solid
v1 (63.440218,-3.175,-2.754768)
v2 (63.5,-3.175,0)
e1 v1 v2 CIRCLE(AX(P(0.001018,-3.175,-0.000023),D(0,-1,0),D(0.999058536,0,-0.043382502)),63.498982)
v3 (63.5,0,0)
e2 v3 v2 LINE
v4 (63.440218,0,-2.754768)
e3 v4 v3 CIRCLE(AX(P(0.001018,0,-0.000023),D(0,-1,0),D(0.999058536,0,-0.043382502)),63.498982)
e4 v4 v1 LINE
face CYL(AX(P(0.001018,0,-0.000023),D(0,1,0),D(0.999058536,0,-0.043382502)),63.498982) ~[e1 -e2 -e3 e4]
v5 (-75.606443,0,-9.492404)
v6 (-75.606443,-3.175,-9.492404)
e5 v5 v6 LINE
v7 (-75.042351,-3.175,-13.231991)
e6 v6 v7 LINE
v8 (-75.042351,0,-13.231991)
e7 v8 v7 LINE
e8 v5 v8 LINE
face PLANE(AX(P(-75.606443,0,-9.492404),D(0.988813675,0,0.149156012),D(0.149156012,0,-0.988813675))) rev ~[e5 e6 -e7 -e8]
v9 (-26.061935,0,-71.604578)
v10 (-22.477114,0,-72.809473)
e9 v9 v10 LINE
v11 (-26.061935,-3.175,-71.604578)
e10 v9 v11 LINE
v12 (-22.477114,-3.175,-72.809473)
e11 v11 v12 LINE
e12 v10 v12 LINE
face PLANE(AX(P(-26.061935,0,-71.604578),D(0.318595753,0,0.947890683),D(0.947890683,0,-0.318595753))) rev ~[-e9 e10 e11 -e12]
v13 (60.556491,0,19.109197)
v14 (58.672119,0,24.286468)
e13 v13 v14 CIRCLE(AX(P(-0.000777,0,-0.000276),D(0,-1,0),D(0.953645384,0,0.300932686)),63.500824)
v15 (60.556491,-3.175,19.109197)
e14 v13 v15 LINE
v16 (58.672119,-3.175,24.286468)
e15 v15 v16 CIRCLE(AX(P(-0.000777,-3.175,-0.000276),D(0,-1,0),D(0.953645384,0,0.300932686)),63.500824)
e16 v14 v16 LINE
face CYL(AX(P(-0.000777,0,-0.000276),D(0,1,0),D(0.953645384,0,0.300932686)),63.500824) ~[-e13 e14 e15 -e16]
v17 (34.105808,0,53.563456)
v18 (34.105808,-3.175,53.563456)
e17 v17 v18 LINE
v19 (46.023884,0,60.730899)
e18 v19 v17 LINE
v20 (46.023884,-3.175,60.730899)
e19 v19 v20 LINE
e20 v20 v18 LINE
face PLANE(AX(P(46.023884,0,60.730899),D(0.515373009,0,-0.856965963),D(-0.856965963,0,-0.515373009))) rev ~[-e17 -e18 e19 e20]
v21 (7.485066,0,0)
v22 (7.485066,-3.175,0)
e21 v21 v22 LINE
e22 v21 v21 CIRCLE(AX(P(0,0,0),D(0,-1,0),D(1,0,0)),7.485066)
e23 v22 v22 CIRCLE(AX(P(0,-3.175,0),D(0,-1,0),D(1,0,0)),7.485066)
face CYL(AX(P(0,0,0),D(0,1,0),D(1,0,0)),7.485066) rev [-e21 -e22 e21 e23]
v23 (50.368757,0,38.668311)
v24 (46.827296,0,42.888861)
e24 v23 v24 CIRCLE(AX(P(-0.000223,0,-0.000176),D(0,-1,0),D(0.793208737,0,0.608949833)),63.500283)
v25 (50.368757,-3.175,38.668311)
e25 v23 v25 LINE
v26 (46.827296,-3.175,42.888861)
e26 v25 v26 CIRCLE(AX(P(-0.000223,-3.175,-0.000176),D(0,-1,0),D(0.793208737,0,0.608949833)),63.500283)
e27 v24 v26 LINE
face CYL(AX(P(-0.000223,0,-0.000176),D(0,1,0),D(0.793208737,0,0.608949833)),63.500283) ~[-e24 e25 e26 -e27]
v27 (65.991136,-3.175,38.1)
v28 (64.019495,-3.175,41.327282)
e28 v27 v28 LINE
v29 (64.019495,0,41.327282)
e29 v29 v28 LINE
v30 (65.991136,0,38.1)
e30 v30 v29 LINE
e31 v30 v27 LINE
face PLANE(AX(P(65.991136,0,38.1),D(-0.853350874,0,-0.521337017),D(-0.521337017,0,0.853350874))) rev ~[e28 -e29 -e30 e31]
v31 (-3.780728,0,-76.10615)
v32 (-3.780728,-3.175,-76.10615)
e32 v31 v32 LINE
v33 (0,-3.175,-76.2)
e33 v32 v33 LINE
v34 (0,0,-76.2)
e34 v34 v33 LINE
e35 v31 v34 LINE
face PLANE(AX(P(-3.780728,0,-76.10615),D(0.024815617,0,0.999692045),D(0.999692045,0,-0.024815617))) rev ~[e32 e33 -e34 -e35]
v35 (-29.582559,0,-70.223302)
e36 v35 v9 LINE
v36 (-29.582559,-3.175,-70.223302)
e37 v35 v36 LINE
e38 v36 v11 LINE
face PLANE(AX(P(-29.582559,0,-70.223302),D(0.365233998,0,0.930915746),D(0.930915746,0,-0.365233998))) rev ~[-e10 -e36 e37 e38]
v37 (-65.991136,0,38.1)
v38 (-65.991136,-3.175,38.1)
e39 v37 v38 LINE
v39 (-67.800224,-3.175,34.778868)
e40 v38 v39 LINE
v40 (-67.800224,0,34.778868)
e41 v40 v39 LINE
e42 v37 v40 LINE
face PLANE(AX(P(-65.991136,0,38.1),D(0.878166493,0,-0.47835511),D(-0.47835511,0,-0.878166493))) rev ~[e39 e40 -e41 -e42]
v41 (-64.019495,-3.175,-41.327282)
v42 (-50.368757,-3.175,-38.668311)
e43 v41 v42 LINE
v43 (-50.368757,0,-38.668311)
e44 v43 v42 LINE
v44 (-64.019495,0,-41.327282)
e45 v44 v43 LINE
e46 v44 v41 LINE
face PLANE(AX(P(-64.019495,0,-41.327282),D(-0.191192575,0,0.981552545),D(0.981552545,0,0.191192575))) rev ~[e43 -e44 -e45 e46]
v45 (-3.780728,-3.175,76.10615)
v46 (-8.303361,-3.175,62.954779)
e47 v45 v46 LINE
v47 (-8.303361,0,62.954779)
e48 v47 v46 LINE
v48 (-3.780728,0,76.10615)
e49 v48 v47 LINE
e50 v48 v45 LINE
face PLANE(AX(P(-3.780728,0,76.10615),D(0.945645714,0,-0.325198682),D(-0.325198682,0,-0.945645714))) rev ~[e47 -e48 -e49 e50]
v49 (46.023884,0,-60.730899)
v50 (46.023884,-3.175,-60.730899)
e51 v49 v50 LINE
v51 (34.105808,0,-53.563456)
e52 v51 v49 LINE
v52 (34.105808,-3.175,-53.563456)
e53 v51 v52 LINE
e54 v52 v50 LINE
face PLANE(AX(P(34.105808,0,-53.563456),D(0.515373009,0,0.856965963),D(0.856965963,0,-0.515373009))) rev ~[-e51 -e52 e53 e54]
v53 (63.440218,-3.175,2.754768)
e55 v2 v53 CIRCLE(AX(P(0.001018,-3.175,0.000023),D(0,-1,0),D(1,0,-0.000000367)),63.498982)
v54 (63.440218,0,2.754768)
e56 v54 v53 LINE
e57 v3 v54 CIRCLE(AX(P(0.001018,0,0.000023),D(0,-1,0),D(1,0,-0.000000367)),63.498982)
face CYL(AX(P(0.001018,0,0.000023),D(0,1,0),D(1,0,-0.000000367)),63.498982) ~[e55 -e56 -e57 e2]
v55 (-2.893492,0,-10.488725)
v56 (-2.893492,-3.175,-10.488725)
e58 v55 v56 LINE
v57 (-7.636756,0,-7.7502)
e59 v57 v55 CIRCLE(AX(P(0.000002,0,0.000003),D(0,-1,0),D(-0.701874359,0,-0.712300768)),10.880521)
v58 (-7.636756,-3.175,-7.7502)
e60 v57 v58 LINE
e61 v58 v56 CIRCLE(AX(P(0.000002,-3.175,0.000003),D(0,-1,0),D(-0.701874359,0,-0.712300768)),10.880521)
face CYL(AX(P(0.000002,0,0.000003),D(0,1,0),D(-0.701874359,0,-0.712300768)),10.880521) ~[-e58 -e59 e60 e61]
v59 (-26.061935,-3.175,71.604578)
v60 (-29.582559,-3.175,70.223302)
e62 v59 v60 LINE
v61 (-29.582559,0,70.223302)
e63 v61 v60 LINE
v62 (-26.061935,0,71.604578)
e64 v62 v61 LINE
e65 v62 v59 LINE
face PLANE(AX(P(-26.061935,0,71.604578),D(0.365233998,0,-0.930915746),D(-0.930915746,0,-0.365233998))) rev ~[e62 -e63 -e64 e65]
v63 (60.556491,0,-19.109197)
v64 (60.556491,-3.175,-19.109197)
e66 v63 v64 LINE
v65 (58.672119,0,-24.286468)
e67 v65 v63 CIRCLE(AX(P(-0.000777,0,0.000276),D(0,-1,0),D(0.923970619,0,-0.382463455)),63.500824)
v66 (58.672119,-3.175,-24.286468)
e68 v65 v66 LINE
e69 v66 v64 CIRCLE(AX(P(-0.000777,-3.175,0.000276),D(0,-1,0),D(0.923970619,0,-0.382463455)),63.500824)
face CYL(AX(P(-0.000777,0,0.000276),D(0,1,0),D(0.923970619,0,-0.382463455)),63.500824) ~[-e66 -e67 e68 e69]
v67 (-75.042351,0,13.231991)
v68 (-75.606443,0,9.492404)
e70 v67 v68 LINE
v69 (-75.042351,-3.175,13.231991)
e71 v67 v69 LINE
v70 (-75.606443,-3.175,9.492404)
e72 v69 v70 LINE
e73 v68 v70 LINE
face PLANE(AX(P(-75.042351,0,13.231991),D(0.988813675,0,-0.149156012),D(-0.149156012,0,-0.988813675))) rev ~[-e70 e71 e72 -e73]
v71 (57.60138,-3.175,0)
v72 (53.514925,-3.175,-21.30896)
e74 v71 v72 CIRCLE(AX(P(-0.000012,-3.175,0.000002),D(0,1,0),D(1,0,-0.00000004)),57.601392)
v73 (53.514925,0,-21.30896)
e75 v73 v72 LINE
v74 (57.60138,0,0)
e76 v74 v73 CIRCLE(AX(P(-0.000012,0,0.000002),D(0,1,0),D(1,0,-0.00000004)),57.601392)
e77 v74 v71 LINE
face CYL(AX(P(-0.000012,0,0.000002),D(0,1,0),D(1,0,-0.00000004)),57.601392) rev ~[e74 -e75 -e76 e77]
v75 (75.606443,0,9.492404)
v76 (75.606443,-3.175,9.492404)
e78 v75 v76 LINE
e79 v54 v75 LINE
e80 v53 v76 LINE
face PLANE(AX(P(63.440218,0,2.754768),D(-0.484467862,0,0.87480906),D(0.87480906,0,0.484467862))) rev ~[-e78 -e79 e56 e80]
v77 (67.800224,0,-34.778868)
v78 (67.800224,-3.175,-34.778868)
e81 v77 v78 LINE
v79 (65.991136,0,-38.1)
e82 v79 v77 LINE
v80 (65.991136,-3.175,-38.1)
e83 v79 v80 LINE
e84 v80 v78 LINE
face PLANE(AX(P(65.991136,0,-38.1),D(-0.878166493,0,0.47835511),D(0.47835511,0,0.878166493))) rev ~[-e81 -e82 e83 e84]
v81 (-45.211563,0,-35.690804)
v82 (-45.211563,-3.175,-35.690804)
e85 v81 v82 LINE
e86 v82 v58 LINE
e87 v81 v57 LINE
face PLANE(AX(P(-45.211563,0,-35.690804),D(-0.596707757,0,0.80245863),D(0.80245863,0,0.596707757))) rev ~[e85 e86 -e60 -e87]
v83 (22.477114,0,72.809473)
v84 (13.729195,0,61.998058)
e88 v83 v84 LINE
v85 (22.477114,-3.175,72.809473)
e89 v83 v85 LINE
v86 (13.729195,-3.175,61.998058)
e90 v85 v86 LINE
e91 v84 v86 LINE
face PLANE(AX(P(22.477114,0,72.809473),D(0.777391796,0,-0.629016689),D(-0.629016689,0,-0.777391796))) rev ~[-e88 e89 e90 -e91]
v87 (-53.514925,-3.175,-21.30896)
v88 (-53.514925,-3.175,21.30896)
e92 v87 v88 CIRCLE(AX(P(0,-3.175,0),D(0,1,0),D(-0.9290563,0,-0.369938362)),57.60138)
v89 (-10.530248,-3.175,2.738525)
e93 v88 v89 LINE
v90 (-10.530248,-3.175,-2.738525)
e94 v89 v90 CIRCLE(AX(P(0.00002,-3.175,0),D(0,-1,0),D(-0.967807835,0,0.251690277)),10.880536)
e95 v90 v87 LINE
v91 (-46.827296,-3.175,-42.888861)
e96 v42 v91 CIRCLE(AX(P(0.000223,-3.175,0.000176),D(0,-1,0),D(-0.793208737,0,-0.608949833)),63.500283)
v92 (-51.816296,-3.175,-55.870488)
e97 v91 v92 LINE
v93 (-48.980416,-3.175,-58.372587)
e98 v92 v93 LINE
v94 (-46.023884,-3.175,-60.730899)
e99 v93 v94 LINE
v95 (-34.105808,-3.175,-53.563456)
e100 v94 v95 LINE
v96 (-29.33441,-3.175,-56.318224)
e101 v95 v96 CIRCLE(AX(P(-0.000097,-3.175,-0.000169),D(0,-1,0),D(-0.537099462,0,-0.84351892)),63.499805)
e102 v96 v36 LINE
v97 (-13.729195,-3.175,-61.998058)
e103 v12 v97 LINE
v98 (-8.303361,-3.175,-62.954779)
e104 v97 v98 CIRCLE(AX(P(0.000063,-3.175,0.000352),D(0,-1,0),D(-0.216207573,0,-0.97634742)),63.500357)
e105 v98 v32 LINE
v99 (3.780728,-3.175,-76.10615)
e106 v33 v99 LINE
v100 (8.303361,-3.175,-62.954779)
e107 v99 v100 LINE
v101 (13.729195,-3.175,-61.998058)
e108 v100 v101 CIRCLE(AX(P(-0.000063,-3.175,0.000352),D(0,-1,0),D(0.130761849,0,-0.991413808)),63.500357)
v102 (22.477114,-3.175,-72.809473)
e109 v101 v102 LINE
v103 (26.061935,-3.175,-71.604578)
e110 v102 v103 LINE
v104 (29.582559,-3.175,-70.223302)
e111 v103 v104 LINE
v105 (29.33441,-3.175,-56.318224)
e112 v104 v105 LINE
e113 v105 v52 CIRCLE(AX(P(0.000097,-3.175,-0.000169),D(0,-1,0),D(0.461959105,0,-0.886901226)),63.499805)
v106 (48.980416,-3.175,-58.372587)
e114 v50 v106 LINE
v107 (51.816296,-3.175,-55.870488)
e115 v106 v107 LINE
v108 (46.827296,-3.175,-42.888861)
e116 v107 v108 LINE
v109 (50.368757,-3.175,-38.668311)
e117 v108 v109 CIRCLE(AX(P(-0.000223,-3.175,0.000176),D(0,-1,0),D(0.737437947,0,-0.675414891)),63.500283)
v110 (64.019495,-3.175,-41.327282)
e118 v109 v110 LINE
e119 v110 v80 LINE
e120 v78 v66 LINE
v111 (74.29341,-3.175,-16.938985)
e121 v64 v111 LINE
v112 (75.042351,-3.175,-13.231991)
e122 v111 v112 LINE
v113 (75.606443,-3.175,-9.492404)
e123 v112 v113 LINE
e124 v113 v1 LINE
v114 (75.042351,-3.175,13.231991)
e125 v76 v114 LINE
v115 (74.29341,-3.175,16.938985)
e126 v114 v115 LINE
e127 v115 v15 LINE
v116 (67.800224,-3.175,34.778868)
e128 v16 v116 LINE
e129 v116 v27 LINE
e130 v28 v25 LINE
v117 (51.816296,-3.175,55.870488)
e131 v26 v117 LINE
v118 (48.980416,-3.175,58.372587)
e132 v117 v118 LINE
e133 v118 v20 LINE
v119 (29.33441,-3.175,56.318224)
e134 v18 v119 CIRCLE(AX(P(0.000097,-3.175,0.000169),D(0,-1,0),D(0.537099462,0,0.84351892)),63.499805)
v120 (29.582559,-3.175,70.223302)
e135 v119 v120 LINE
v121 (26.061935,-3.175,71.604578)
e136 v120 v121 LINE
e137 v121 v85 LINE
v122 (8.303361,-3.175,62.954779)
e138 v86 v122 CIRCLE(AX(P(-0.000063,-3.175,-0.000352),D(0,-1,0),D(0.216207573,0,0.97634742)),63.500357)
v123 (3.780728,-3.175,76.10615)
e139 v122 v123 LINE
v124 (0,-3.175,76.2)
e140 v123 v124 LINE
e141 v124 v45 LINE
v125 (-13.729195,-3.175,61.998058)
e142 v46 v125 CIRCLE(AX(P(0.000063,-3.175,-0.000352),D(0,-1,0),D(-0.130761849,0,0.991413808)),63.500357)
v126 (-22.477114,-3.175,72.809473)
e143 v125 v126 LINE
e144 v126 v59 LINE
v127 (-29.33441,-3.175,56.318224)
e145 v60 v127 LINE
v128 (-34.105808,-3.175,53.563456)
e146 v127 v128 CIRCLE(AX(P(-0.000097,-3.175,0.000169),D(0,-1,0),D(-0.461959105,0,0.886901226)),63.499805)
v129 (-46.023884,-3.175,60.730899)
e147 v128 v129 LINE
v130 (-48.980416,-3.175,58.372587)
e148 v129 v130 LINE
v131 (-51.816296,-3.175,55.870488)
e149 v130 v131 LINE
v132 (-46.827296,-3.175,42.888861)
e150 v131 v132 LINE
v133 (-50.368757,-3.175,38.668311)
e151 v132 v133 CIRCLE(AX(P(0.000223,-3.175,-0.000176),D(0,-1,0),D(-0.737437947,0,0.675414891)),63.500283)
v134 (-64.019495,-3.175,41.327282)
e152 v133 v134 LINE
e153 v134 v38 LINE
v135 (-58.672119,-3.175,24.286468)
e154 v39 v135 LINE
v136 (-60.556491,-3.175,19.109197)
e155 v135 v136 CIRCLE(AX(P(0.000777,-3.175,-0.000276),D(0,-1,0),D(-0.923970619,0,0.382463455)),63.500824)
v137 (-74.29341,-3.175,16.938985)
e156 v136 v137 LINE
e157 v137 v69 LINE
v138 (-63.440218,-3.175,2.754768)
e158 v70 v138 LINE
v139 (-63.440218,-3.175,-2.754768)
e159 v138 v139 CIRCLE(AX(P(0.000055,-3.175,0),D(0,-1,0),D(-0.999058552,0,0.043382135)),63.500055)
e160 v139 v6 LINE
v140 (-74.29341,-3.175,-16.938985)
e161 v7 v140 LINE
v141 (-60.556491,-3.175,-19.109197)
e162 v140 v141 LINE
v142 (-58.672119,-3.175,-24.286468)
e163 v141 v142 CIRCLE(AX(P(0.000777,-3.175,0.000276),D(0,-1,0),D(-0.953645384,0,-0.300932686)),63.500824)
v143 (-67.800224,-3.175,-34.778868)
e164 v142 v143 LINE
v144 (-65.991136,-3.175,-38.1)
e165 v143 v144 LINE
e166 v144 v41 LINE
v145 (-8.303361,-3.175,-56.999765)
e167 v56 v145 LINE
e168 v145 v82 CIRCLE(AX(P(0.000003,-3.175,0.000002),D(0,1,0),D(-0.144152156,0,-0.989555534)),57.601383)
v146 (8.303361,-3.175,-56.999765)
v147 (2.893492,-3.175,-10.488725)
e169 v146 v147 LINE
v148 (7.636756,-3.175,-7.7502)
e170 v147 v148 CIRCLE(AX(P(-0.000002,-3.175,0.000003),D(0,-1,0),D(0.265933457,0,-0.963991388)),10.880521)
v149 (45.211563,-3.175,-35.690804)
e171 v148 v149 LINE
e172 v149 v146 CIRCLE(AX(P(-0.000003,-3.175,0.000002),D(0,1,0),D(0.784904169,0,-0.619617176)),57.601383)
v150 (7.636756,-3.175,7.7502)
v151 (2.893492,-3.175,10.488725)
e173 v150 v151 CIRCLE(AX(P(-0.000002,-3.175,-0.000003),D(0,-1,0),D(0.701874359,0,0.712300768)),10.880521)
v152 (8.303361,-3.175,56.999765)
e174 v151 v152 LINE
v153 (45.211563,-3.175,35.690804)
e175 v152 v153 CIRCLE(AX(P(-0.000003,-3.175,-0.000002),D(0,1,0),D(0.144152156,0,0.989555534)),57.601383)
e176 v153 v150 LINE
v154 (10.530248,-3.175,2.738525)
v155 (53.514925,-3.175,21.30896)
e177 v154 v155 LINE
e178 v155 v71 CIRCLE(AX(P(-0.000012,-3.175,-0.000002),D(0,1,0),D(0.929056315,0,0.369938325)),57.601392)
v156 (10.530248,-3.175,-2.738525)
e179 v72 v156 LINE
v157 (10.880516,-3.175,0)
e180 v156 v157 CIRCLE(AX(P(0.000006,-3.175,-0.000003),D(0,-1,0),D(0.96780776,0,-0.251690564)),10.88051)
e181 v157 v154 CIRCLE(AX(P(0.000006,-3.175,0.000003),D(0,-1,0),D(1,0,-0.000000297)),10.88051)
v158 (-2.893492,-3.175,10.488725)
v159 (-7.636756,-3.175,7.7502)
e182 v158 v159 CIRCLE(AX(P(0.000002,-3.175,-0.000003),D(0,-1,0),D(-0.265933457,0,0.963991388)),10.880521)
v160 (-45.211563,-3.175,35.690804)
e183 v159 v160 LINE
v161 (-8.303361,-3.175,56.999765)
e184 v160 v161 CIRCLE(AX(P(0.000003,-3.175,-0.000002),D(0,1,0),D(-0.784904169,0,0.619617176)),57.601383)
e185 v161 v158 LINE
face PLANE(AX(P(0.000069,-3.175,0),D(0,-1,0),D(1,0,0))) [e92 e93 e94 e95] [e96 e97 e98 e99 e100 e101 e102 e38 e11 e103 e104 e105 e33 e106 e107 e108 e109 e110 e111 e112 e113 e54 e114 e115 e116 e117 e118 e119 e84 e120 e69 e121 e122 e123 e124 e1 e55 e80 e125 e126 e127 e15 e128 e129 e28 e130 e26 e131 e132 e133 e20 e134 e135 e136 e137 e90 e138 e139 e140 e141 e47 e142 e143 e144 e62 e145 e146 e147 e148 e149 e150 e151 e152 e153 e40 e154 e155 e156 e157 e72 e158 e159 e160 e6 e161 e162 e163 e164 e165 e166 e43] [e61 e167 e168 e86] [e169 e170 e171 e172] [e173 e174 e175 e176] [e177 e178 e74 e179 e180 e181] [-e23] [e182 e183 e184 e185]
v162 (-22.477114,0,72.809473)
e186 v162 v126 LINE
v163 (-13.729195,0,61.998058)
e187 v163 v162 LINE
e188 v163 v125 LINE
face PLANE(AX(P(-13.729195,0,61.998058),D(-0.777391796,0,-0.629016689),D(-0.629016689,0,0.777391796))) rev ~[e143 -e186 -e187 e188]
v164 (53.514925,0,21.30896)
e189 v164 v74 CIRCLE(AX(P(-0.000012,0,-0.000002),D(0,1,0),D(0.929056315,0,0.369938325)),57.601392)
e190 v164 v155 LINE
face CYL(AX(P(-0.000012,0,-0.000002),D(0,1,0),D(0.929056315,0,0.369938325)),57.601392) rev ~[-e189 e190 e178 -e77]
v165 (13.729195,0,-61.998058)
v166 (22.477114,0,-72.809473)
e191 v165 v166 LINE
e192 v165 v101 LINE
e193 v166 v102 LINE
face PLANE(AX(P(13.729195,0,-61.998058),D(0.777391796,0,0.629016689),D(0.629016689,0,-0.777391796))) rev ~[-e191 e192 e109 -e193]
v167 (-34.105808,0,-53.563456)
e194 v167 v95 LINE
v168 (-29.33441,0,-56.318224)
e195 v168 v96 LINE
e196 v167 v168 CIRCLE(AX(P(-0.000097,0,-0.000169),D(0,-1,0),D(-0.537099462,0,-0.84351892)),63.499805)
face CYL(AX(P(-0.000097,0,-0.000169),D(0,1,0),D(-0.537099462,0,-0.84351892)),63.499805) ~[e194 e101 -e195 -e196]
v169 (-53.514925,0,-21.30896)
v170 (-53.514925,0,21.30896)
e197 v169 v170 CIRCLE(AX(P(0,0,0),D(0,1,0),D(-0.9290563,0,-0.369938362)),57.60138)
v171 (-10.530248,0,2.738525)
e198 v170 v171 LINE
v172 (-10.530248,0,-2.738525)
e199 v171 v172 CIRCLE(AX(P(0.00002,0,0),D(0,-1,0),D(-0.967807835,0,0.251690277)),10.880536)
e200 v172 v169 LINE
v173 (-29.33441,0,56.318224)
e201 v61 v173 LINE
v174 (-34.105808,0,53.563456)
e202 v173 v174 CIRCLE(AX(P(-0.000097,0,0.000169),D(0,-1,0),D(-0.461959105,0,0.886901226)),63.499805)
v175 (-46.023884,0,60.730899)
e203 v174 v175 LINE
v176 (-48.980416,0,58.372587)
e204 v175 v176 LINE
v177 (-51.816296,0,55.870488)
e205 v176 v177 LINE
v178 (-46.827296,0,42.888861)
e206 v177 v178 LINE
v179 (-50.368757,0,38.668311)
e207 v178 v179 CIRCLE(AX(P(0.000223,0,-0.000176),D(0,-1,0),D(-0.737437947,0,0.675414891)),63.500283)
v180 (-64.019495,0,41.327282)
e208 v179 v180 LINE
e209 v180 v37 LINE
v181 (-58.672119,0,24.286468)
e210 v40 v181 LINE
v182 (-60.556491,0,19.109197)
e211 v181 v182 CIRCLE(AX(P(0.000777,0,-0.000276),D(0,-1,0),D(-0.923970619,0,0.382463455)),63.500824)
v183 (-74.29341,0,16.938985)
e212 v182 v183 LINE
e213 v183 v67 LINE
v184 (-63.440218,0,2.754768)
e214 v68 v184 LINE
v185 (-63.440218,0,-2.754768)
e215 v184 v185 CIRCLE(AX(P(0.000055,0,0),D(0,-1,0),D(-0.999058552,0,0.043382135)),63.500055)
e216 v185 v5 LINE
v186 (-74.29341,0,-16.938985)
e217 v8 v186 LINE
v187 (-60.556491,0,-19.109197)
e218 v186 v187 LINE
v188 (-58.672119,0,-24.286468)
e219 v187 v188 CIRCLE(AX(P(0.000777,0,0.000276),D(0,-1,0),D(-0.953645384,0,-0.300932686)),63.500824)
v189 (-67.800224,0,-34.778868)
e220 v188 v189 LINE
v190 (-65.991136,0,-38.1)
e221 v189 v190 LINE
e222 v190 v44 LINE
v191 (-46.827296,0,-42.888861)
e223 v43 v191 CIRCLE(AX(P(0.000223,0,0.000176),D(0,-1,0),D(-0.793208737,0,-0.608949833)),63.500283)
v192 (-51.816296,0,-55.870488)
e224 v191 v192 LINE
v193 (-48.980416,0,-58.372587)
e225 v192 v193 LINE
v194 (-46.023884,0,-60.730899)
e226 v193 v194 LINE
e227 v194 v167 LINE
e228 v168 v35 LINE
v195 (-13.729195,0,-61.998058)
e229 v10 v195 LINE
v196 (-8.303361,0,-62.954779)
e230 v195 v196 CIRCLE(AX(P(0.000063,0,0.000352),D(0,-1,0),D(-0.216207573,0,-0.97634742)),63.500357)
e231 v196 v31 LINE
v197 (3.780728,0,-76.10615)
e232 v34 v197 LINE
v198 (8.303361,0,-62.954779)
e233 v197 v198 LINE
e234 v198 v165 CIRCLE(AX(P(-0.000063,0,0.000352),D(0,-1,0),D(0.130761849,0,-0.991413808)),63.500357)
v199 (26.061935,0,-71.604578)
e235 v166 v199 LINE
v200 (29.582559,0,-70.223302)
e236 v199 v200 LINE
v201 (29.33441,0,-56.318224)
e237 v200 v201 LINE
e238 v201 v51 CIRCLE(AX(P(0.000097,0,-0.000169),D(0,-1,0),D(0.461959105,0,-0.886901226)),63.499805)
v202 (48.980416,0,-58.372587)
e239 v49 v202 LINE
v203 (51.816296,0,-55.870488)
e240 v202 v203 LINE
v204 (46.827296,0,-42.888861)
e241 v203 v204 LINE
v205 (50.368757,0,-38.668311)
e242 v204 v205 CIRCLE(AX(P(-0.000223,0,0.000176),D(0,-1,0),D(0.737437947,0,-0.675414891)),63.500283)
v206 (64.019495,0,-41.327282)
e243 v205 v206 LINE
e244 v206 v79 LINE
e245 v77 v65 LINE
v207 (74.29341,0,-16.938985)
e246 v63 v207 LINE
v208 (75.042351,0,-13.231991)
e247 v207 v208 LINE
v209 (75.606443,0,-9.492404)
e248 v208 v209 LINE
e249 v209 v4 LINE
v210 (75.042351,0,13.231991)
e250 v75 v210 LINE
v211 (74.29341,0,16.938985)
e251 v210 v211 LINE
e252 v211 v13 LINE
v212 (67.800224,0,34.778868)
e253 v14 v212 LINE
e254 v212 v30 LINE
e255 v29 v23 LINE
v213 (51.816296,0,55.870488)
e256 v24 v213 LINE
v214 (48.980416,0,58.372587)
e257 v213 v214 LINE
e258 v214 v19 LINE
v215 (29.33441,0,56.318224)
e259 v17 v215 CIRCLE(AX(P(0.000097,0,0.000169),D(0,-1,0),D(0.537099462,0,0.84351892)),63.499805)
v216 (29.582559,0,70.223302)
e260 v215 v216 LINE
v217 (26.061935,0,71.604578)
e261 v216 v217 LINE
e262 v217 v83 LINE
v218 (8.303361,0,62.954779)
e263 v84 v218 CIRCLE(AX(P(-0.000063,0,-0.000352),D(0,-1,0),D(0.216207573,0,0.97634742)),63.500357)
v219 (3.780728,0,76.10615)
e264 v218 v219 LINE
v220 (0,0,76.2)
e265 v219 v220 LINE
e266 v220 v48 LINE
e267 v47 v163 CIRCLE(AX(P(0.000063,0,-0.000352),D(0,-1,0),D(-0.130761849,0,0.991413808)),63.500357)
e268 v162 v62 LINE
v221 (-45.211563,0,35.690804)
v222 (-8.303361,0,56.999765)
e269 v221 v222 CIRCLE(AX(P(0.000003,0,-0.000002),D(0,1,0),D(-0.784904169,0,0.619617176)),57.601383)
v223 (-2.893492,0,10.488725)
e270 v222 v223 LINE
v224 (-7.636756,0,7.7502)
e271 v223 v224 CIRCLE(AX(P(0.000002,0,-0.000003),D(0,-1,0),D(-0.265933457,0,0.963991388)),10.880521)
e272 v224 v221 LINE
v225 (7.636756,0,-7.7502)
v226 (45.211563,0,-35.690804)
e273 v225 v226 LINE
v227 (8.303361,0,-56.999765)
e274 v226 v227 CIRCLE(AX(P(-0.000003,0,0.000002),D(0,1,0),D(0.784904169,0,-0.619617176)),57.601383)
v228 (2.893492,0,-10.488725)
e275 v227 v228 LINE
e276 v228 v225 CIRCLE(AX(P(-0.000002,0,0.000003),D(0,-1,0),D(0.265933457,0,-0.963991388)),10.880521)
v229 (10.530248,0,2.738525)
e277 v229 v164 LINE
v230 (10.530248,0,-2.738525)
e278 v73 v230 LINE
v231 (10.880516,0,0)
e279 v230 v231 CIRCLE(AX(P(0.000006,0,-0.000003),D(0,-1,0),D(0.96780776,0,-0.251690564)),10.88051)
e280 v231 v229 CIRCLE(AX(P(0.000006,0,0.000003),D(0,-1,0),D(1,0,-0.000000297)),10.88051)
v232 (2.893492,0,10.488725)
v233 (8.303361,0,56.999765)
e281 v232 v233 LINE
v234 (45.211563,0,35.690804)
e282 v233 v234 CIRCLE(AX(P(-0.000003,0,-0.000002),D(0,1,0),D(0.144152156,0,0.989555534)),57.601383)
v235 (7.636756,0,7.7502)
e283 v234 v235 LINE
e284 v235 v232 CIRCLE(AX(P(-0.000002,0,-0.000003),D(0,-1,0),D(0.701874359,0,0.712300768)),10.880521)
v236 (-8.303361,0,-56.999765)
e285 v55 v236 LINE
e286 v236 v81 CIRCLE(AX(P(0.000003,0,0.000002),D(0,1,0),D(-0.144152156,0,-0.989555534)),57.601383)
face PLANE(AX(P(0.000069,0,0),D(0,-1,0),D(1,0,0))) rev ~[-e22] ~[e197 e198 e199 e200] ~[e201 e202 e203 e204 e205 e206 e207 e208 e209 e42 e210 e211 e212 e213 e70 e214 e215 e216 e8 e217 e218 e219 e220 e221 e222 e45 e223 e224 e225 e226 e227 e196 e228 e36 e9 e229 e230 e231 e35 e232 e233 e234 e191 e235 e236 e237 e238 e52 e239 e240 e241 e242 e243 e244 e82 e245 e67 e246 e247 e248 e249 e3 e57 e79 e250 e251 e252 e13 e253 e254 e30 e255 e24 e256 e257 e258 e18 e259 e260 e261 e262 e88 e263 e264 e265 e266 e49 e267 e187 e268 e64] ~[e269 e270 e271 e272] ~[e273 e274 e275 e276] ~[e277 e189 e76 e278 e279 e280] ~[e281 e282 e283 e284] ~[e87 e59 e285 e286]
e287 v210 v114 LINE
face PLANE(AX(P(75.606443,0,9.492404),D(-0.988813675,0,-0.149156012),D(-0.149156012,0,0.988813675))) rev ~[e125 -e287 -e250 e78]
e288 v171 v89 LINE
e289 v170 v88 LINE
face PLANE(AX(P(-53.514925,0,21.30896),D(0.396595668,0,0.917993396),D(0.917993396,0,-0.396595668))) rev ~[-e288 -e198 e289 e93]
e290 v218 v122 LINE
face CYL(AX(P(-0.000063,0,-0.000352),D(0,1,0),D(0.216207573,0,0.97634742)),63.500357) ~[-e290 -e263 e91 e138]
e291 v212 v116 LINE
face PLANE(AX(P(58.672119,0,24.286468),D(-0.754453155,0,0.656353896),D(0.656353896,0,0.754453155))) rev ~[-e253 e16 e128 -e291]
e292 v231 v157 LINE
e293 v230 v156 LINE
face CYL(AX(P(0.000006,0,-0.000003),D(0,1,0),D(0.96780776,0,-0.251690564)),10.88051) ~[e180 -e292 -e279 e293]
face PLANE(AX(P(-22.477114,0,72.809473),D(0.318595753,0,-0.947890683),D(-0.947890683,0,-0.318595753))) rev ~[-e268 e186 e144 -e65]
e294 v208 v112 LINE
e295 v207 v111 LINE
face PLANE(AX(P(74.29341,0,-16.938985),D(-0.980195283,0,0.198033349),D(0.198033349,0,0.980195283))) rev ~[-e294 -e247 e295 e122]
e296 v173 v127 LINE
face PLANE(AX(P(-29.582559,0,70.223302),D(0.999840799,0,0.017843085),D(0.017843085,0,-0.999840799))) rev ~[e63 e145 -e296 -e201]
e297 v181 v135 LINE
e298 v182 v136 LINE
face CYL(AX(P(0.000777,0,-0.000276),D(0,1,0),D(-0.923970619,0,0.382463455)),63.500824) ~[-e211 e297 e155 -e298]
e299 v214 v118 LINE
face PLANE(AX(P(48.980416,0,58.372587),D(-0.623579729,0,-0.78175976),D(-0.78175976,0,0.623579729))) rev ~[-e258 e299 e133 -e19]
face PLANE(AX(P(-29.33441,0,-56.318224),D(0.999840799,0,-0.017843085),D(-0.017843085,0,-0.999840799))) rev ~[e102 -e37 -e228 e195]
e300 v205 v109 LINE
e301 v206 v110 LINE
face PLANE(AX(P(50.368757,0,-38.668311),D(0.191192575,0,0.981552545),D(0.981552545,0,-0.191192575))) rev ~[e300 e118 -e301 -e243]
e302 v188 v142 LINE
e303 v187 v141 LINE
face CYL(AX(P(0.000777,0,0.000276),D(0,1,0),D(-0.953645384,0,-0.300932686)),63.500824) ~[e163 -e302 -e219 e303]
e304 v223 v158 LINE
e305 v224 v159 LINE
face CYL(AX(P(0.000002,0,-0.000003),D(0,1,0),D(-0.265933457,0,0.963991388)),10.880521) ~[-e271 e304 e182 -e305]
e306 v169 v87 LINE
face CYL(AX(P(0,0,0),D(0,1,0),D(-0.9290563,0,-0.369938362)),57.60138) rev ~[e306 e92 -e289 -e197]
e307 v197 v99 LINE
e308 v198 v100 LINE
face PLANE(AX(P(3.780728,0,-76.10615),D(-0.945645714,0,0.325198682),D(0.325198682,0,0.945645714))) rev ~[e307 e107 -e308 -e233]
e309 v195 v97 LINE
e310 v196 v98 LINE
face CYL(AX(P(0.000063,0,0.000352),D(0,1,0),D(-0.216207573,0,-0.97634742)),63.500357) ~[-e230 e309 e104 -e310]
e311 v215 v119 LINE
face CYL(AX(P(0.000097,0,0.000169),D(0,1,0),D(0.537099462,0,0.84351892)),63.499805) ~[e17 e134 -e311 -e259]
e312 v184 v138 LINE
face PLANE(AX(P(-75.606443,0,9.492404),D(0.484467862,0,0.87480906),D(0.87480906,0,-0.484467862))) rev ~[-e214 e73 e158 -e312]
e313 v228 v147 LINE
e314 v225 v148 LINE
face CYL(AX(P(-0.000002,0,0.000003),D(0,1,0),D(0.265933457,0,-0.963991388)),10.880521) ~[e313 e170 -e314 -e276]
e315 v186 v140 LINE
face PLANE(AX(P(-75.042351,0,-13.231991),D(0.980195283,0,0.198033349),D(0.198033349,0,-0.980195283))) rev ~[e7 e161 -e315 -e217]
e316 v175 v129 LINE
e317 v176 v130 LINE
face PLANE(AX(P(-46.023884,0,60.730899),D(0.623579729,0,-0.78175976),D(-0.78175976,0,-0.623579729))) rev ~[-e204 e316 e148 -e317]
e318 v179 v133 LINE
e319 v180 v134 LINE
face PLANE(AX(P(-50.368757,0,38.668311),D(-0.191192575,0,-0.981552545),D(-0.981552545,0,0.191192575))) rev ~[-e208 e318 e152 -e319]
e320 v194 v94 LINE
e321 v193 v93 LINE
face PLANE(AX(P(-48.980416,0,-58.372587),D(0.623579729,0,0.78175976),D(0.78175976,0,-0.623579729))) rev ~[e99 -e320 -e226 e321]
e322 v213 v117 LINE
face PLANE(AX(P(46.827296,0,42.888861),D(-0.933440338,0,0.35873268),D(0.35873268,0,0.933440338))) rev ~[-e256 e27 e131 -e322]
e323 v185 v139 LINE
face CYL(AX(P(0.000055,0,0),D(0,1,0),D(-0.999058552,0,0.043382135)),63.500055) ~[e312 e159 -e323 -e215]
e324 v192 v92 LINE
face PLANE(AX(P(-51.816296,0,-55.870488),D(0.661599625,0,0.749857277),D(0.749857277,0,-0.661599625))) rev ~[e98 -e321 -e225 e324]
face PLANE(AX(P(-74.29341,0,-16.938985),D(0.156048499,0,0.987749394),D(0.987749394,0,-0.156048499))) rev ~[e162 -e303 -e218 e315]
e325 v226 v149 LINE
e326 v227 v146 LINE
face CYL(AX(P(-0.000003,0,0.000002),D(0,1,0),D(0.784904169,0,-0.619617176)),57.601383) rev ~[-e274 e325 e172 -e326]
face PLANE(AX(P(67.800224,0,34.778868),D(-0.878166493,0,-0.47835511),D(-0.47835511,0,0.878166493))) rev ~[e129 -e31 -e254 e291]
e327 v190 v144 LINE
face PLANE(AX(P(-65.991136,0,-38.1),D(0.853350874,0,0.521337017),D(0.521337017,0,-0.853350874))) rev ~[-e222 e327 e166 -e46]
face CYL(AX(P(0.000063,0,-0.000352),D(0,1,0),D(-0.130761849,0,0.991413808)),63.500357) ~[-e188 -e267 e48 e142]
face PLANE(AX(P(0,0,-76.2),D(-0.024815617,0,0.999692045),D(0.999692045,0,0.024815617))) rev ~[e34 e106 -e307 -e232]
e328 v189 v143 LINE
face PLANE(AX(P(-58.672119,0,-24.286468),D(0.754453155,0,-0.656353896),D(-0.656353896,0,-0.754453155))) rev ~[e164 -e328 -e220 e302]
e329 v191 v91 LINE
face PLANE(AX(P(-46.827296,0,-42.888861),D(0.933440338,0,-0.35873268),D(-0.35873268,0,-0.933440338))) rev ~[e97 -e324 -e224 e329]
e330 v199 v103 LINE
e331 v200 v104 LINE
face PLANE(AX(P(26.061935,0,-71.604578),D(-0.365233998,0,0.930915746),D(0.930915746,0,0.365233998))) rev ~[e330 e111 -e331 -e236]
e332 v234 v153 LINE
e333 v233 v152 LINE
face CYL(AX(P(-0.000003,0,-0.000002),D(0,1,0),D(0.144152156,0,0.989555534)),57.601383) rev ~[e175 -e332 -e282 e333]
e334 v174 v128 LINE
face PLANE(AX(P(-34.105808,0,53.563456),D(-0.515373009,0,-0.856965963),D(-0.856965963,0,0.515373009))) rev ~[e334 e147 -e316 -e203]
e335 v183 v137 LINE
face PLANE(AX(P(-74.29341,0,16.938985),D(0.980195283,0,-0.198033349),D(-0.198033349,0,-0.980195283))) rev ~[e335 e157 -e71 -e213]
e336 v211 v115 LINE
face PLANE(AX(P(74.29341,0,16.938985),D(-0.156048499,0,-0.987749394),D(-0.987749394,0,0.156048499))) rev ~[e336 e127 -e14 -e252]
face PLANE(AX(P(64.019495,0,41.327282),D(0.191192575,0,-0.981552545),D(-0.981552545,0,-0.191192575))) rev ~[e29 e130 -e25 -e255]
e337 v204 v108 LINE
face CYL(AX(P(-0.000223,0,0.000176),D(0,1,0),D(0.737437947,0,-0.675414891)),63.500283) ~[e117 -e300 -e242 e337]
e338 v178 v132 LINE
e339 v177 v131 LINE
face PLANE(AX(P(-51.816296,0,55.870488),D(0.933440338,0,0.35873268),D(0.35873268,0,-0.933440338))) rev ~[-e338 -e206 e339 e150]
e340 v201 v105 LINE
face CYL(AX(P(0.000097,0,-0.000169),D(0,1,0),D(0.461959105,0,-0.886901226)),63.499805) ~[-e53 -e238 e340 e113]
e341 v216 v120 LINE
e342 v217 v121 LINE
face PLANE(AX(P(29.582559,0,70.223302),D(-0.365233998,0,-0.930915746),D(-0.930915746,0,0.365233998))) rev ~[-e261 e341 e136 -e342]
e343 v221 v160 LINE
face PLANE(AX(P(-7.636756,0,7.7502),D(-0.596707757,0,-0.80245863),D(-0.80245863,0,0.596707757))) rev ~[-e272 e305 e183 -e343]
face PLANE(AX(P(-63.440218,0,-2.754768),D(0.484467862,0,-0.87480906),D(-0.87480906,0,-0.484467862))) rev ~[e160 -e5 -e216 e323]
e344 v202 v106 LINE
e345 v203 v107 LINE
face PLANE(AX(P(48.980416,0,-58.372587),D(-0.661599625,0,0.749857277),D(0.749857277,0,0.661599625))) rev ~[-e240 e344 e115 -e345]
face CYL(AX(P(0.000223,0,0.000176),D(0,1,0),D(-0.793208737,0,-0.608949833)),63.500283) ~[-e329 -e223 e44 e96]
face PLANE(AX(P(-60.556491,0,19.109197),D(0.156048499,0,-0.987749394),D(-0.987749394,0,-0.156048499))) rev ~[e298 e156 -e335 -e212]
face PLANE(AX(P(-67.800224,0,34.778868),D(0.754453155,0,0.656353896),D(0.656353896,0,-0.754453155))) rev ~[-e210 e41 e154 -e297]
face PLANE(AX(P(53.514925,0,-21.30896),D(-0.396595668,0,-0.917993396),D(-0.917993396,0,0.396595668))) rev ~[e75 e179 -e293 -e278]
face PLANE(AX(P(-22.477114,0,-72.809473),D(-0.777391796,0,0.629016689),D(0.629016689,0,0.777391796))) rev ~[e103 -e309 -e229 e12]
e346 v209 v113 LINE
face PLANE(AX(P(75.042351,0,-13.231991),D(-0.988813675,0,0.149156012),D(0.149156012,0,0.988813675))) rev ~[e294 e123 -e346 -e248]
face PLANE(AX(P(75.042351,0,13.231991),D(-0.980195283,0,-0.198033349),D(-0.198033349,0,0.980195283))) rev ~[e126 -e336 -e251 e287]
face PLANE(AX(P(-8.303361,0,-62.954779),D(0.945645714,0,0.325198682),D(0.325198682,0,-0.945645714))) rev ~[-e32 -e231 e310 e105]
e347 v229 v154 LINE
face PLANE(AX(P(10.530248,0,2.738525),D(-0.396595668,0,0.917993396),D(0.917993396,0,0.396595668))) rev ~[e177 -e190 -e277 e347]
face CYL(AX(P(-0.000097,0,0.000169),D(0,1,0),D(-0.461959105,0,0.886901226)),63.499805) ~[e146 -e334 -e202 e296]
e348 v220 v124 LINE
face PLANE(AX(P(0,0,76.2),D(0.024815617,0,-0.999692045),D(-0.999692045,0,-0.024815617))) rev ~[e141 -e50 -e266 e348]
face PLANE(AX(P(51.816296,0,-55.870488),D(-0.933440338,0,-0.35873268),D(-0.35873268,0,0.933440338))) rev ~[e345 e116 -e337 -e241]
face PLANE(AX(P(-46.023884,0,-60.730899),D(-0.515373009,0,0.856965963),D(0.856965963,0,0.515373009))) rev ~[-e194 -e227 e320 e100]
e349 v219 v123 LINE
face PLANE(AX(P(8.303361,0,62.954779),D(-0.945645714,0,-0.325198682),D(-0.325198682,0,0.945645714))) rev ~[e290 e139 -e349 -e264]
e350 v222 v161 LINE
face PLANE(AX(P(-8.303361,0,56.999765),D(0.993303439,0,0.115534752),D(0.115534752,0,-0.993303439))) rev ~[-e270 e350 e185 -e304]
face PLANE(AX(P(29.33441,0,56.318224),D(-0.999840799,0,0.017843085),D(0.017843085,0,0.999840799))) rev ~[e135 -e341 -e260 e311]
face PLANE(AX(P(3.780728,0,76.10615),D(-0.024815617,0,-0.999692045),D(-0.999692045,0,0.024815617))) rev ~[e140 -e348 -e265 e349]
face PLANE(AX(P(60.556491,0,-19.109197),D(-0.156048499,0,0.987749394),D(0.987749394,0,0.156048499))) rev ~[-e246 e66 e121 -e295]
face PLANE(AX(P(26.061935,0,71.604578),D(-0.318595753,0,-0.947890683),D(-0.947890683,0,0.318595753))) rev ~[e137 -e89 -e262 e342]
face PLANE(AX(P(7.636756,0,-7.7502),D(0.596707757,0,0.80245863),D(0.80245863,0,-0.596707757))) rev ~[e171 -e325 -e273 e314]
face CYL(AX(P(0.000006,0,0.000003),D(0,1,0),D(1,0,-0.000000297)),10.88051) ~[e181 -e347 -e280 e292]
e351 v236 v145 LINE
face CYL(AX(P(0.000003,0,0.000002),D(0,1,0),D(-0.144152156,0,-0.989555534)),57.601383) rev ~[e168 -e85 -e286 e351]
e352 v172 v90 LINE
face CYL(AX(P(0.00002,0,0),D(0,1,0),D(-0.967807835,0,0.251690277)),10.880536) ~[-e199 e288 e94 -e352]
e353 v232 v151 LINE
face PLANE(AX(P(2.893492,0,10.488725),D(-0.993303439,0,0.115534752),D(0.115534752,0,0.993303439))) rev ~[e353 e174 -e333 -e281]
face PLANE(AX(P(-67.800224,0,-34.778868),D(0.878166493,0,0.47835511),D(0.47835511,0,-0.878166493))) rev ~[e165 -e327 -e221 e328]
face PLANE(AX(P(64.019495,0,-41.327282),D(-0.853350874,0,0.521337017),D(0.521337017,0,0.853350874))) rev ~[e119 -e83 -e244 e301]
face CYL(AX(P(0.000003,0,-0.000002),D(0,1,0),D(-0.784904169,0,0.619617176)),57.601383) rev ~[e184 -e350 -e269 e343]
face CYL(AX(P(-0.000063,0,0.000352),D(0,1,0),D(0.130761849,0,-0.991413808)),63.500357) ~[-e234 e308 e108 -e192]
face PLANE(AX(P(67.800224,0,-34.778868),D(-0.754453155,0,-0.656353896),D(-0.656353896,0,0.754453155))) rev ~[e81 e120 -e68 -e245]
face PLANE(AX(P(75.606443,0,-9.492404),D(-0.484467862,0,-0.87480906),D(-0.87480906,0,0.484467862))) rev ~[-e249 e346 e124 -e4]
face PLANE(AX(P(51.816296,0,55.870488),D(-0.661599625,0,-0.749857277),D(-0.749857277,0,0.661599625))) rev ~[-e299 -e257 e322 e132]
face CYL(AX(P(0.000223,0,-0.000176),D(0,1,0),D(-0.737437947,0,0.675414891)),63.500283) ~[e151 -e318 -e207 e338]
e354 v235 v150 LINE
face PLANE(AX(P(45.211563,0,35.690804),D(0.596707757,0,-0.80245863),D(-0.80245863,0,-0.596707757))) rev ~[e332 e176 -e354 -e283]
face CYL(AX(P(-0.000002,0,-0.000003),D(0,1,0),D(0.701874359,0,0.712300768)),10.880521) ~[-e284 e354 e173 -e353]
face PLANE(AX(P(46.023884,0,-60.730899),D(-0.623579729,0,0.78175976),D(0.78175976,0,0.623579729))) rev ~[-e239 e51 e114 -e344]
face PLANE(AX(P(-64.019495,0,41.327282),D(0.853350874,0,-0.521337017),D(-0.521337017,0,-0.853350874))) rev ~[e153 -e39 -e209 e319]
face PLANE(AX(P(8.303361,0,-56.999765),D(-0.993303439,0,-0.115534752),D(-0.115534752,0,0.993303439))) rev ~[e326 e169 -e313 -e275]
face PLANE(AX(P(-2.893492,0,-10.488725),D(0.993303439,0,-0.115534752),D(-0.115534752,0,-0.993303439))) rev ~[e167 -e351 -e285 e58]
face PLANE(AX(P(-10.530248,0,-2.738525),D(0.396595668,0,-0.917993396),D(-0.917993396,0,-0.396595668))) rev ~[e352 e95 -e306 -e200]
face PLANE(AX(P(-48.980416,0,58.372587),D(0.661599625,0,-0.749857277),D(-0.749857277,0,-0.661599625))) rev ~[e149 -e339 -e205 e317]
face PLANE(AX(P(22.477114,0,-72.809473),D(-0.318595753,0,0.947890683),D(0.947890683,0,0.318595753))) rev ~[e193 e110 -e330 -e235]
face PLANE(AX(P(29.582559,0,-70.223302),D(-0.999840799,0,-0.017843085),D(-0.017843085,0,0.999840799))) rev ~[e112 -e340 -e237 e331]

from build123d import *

# Parameters (mm, degrees)
F0_R     = 7.485066
F1_DEPTH = 3.175


with BuildPart() as f1:
    # F0 (on Front) → F1 (new body)
    with BuildSketch(Plane.XZ):
        with BuildLine():
            ThreePointArc((63.440218, -2.754768), (63.485053, -1.377708), (63.5, 0))
            ThreePointArc((63.5, 0), (63.485053, 1.377708), (63.440218, 2.754768))
            ThreePointArc((63.440218, 2.754768), (62.535292, 11.026659), (60.556491, 19.109197))
            ThreePointArc((60.556491, 19.109197), (59.670481, 21.718279), (58.672119, 24.286468))
            ThreePointArc((58.672119, 24.286468), (54.992613, 31.75), (50.368757, 38.668311))
            ThreePointArc((50.368757, 38.668311), (48.643822, 40.817013), (46.827296, 42.888861))
            ThreePointArc((46.827296, 42.888861), (40.817013, 48.643822), (34.105808, 53.563456))
            ThreePointArc((34.105808, 53.563456), (31.75, 54.992613), (29.33441, 56.318224))
            ThreePointArc((29.33441, 56.318224), (21.718279, 59.670481), (13.729195, 61.998058))
            ThreePointArc((13.729195, 61.998058), (11.026659, 62.535292), (8.303361, 62.954779))
            ThreePointArc((8.303361, 62.954779), (0, 63.5), (-8.303361, 62.954779))
            ThreePointArc((-8.303361, 62.954779), (-11.026659, 62.535292), (-13.729195, 61.998058))
            ThreePointArc((-13.729195, 61.998058), (-21.718279, 59.670481), (-29.33441, 56.318224))
            ThreePointArc((-29.33441, 56.318224), (-31.75, 54.992613), (-34.105808, 53.563456))
            ThreePointArc((-34.105808, 53.563456), (-40.817013, 48.643822), (-46.827296, 42.888861))
            ThreePointArc((-46.827296, 42.888861), (-48.643822, 40.817013), (-50.368757, 38.668311))
            ThreePointArc((-50.368757, 38.668311), (-54.992613, 31.75), (-58.672119, 24.286468))
            ThreePointArc((-58.672119, 24.286468), (-59.670481, 21.718279), (-60.556491, 19.109197))
            ThreePointArc((-60.556491, 19.109197), (-62.535292, 11.026659), (-63.440218, 2.754768))
            ThreePointArc((-63.440218, 2.754768), (-63.5, 0), (-63.440218, -2.754768))
            ThreePointArc((-63.440218, -2.754768), (-62.535292, -11.026659), (-60.556491, -19.109197))
            ThreePointArc((-60.556491, -19.109197), (-59.670481, -21.718279), (-58.672119, -24.286468))
            ThreePointArc((-58.672119, -24.286468), (-54.992613, -31.75), (-50.368757, -38.668311))
            ThreePointArc((-50.368757, -38.668311), (-48.643822, -40.817013), (-46.827296, -42.888861))
            ThreePointArc((-46.827296, -42.888861), (-40.817013, -48.643822), (-34.105808, -53.563456))
            ThreePointArc((-34.105808, -53.563456), (-31.75, -54.992613), (-29.33441, -56.318224))
            ThreePointArc((-29.33441, -56.318224), (-21.718279, -59.670481), (-13.729195, -61.998058))
            ThreePointArc((-13.729195, -61.998058), (-11.026659, -62.535292), (-8.303361, -62.954779))
            ThreePointArc((-8.303361, -62.954779), (0, -63.5), (8.303361, -62.954779))
            ThreePointArc((8.303361, -62.954779), (11.026659, -62.535292), (13.729195, -61.998058))
            ThreePointArc((13.729195, -61.998058), (21.718279, -59.670481), (29.33441, -56.318224))
            ThreePointArc((29.33441, -56.318224), (31.75, -54.992613), (34.105808, -53.563456))
            ThreePointArc((34.105808, -53.563456), (40.817013, -48.643822), (46.827296, -42.888861))
            ThreePointArc((46.827296, -42.888861), (48.643822, -40.817013), (50.368757, -38.668311))
            ThreePointArc((50.368757, -38.668311), (54.992613, -31.75), (58.672119, -24.286468))
            ThreePointArc((58.672119, -24.286468), (59.670481, -21.718279), (60.556491, -19.109197))
            ThreePointArc((60.556491, -19.109197), (62.535292, -11.026659), (63.440218, -2.754768))
        make_face()
        with BuildLine():
            ThreePointArc((45.211563, 35.690804), (49.884258, 28.80069), (53.514925, 21.30896))
            ThreePointArc((53.514925, 21.30896), (56.570542, 10.848628), (57.60138, 0))
            ThreePointArc((57.60138, 0), (56.570542, -10.848628), (53.514925, -21.30896))
            ThreePointArc((53.514925, -21.30896), (49.884258, -28.80069), (45.211563, -35.690804))
            ThreePointArc((45.211563, -35.690804), (28.80069, -49.884258), (8.303361, -56.999765))
            ThreePointArc((8.303361, -56.999765), (0, -57.60138), (-8.303361, -56.999765))
            ThreePointArc((-8.303361, -56.999765), (-28.80069, -49.884258), (-45.211563, -35.690804))
            ThreePointArc((-45.211563, -35.690804), (-49.884258, -28.80069), (-53.514925, -21.30896))
            ThreePointArc((-53.514925, -21.30896), (-57.60138, 0), (-53.514925, 21.30896))
            ThreePointArc((-53.514925, 21.30896), (-49.884258, 28.80069), (-45.211563, 35.690804))
            ThreePointArc((-45.211563, 35.690804), (-28.80069, 49.884258), (-8.303361, 56.999765))
            ThreePointArc((-8.303361, 56.999765), (0, 57.60138), (8.303361, 56.999765))
            ThreePointArc((8.303361, 56.999765), (28.80069, 49.884258), (45.211563, 35.690804))
        make_face(mode=Mode.SUBTRACT)
        with BuildLine():
            ThreePointArc((60.556491, 19.109197), (62.535292, 11.026659), (63.440218, 2.754768))
            Line((63.440218, 2.754768), (75.606443, 9.492404))
            Line((75.606443, 9.492404), (75.042351, 13.231991))
            Line((75.042351, 13.231991), (74.29341, 16.938985))
            Line((74.29341, 16.938985), (60.556491, 19.109197))
        make_face()
        with BuildLine():
            Line((75.606443, -9.492404), (63.440218, -2.754768))
            ThreePointArc((63.440218, -2.754768), (62.535292, -11.026659), (60.556491, -19.109197))
            Line((60.556491, -19.109197), (74.29341, -16.938985))
            Line((74.29341, -16.938985), (75.042351, -13.231991))
            Line((75.042351, -13.231991), (75.606443, -9.492404))
        make_face()
        with BuildLine():
            ThreePointArc((50.368757, 38.668311), (54.992613, 31.75), (58.672119, 24.286468))
            Line((58.672119, 24.286468), (67.800224, 34.778868))
            Line((67.800224, 34.778868), (65.991136, 38.1))
            Line((65.991136, 38.1), (64.019495, 41.327282))
            Line((64.019495, 41.327282), (50.368757, 38.668311))
        make_face()
        with BuildLine():
            Line((67.800224, -34.778868), (58.672119, -24.286468))
            ThreePointArc((58.672119, -24.286468), (54.992613, -31.75), (50.368757, -38.668311))
            Line((50.368757, -38.668311), (64.019495, -41.327282))
            Line((64.019495, -41.327282), (65.991136, -38.1))
            Line((65.991136, -38.1), (67.800224, -34.778868))
        make_face()
        with BuildLine():
            ThreePointArc((34.105808, 53.563456), (40.817013, 48.643822), (46.827296, 42.888861))
            Line((46.827296, 42.888861), (51.816296, 55.870488))
            Line((51.816296, 55.870488), (48.980416, 58.372587))
            Line((48.980416, 58.372587), (46.023884, 60.730899))
            Line((46.023884, 60.730899), (34.105808, 53.563456))
        make_face()
        with BuildLine():
            Line((51.816296, -55.870488), (46.827296, -42.888861))
            ThreePointArc((46.827296, -42.888861), (40.817013, -48.643822), (34.105808, -53.563456))
            Line((34.105808, -53.563456), (46.023884, -60.730899))
            Line((46.023884, -60.730899), (48.980416, -58.372587))
            Line((48.980416, -58.372587), (51.816296, -55.870488))
        make_face()
        with BuildLine():
            ThreePointArc((13.729195, 61.998058), (21.718279, 59.670481), (29.33441, 56.318224))
            Line((29.33441, 56.318224), (29.582559, 70.223302))
            Line((29.582559, 70.223302), (26.061935, 71.604578))
            Line((26.061935, 71.604578), (22.477114, 72.809473))
            Line((22.477114, 72.809473), (13.729195, 61.998058))
        make_face()
        with BuildLine():
            Line((29.582559, -70.223302), (29.33441, -56.318224))
            ThreePointArc((29.33441, -56.318224), (21.718279, -59.670481), (13.729195, -61.998058))
            Line((13.729195, -61.998058), (22.477114, -72.809473))
            Line((22.477114, -72.809473), (26.061935, -71.604578))
            Line((26.061935, -71.604578), (29.582559, -70.223302))
        make_face()
        with BuildLine():
            ThreePointArc((-8.303361, 62.954779), (0, 63.5), (8.303361, 62.954779))
            Line((8.303361, 62.954779), (3.780728, 76.10615))
            Line((3.780728, 76.10615), (0, 76.2))
            Line((0, 76.2), (-3.780728, 76.10615))
            Line((-3.780728, 76.10615), (-8.303361, 62.954779))
        make_face()
        with BuildLine():
            Line((3.780728, -76.10615), (8.303361, -62.954779))
            ThreePointArc((8.303361, -62.954779), (0, -63.5), (-8.303361, -62.954779))
            Line((-8.303361, -62.954779), (-3.780728, -76.10615))
            Line((-3.780728, -76.10615), (0, -76.2))
            Line((0, -76.2), (3.780728, -76.10615))
        make_face()
        with BuildLine():
            ThreePointArc((-29.33441, 56.318224), (-21.718279, 59.670481), (-13.729195, 61.998058))
            Line((-13.729195, 61.998058), (-22.477114, 72.809473))
            Line((-22.477114, 72.809473), (-26.061935, 71.604578))
            Line((-26.061935, 71.604578), (-29.582559, 70.223302))
            Line((-29.582559, 70.223302), (-29.33441, 56.318224))
        make_face()
        with BuildLine():
            Line((-22.477114, -72.809473), (-13.729195, -61.998058))
            ThreePointArc((-13.729195, -61.998058), (-21.718279, -59.670481), (-29.33441, -56.318224))
            Line((-29.33441, -56.318224), (-29.582559, -70.223302))
            Line((-29.582559, -70.223302), (-26.061935, -71.604578))
            Line((-26.061935, -71.604578), (-22.477114, -72.809473))
        make_face()
        with BuildLine():
            ThreePointArc((-46.827296, 42.888861), (-40.817013, 48.643822), (-34.105808, 53.563456))
            Line((-34.105808, 53.563456), (-46.023884, 60.730899))
            Line((-46.023884, 60.730899), (-48.980416, 58.372587))
            Line((-48.980416, 58.372587), (-51.816296, 55.870488))
            Line((-51.816296, 55.870488), (-46.827296, 42.888861))
        make_face()
        with BuildLine():
            Line((-46.023884, -60.730899), (-34.105808, -53.563456))
            ThreePointArc((-34.105808, -53.563456), (-40.817013, -48.643822), (-46.827296, -42.888861))
            Line((-46.827296, -42.888861), (-51.816296, -55.870488))
            Line((-51.816296, -55.870488), (-48.980416, -58.372587))
            Line((-48.980416, -58.372587), (-46.023884, -60.730899))
        make_face()
        with BuildLine():
            ThreePointArc((-58.672119, 24.286468), (-54.992613, 31.75), (-50.368757, 38.668311))
            Line((-50.368757, 38.668311), (-64.019495, 41.327282))
            Line((-64.019495, 41.327282), (-65.991136, 38.1))
            Line((-65.991136, 38.1), (-67.800224, 34.778868))
            Line((-67.800224, 34.778868), (-58.672119, 24.286468))
        make_face()
        with BuildLine():
            Line((-64.019495, -41.327282), (-50.368757, -38.668311))
            ThreePointArc((-50.368757, -38.668311), (-54.992613, -31.75), (-58.672119, -24.286468))
            Line((-58.672119, -24.286468), (-67.800224, -34.778868))
            Line((-67.800224, -34.778868), (-65.991136, -38.1))
            Line((-65.991136, -38.1), (-64.019495, -41.327282))
        make_face()
        with BuildLine():
            ThreePointArc((-63.440218, 2.754768), (-62.535292, 11.026659), (-60.556491, 19.109197))
            Line((-60.556491, 19.109197), (-74.29341, 16.938985))
            Line((-74.29341, 16.938985), (-75.042351, 13.231991))
            Line((-75.042351, 13.231991), (-75.606443, 9.492404))
            Line((-75.606443, 9.492404), (-63.440218, 2.754768))
        make_face()
        with BuildLine():
            Line((-74.29341, -16.938985), (-60.556491, -19.109197))
            ThreePointArc((-60.556491, -19.109197), (-62.535292, -11.026659), (-63.440218, -2.754768))
            Line((-63.440218, -2.754768), (-75.606443, -9.492404))
            Line((-75.606443, -9.492404), (-75.042351, -13.231991))
            Line((-75.042351, -13.231991), (-74.29341, -16.938985))
        make_face()
        with BuildLine():
            ThreePointArc((-2.893492, 10.488725), (0, 10.880516), (2.893492, 10.488725))
            Line((2.893492, 10.488725), (8.303361, 56.999765))
            ThreePointArc((8.303361, 56.999765), (0, 57.60138), (-8.303361, 56.999765))
            Line((-8.303361, 56.999765), (-2.893492, 10.488725))
        make_face()
        with BuildLine():
            ThreePointArc((7.636756, 7.7502), (9.422804, 5.440258), (10.530248, 2.738525))
            Line((10.530248, 2.738525), (53.514925, 21.30896))
            ThreePointArc((53.514925, 21.30896), (49.884258, 28.80069), (45.211563, 35.690804))
            Line((45.211563, 35.690804), (7.636756, 7.7502))
        make_face()
        with BuildLine():
            Line((53.514925, -21.30896), (10.530248, -2.738525))
            ThreePointArc((10.530248, -2.738525), (9.422804, -5.440258), (7.636756, -7.7502))
            Line((7.636756, -7.7502), (45.211563, -35.690804))
            ThreePointArc((45.211563, -35.690804), (49.884258, -28.80069), (53.514925, -21.30896))
        make_face()
        with BuildLine():
            Line((8.303361, -56.999765), (2.893492, -10.488725))
            ThreePointArc((2.893492, -10.488725), (0, -10.880516), (-2.893492, -10.488725))
            Line((-2.893492, -10.488725), (-8.303361, -56.999765))
            ThreePointArc((-8.303361, -56.999765), (0, -57.60138), (8.303361, -56.999765))
        make_face()
        with BuildLine():
            Line((-45.211563, -35.690804), (-7.636756, -7.7502))
            ThreePointArc((-7.636756, -7.7502), (-9.422804, -5.440258), (-10.530248, -2.738525))
            Line((-10.530248, -2.738525), (-53.514925, -21.30896))
            ThreePointArc((-53.514925, -21.30896), (-49.884258, -28.80069), (-45.211563, -35.690804))
        make_face()
        with BuildLine():
            ThreePointArc((-10.530248, 2.738525), (-9.422804, 5.440258), (-7.636756, 7.7502))
            Line((-7.636756, 7.7502), (-45.211563, 35.690804))
            ThreePointArc((-45.211563, 35.690804), (-49.884258, 28.80069), (-53.514925, 21.30896))
            Line((-53.514925, 21.30896), (-10.530248, 2.738525))
        make_face()
        with BuildLine():
            ThreePointArc((10.530248, -2.738525), (10.792594, -1.380417), (10.880516, 0))
            ThreePointArc((10.880516, 0), (10.792594, 1.380417), (10.530248, 2.738525))
            ThreePointArc((10.530248, 2.738525), (9.422804, 5.440258), (7.636756, 7.7502))
            ThreePointArc((7.636756, 7.7502), (5.440258, 9.422804), (2.893492, 10.488725))
            ThreePointArc((2.893492, 10.488725), (0, 10.880516), (-2.893492, 10.488725))
            ThreePointArc((-2.893492, 10.488725), (-5.440258, 9.422804), (-7.636756, 7.7502))
            ThreePointArc((-7.636756, 7.7502), (-9.422804, 5.440258), (-10.530248, 2.738525))
            ThreePointArc((-10.530248, 2.738525), (-10.880516, 0), (-10.530248, -2.738525))
            ThreePointArc((-10.530248, -2.738525), (-9.422804, -5.440258), (-7.636756, -7.7502))
            ThreePointArc((-7.636756, -7.7502), (-5.440258, -9.422804), (-2.893492, -10.488725))
            ThreePointArc((-2.893492, -10.488725), (0, -10.880516), (2.893492, -10.488725))
            ThreePointArc((2.893492, -10.488725), (5.440258, -9.422804), (7.636756, -7.7502))
            ThreePointArc((7.636756, -7.7502), (9.422804, -5.440258), (10.530248, -2.738525))
        make_face()
        Circle(F0_R, mode=Mode.SUBTRACT)
    extrude(amount=F1_DEPTH)


solid = f1.part
